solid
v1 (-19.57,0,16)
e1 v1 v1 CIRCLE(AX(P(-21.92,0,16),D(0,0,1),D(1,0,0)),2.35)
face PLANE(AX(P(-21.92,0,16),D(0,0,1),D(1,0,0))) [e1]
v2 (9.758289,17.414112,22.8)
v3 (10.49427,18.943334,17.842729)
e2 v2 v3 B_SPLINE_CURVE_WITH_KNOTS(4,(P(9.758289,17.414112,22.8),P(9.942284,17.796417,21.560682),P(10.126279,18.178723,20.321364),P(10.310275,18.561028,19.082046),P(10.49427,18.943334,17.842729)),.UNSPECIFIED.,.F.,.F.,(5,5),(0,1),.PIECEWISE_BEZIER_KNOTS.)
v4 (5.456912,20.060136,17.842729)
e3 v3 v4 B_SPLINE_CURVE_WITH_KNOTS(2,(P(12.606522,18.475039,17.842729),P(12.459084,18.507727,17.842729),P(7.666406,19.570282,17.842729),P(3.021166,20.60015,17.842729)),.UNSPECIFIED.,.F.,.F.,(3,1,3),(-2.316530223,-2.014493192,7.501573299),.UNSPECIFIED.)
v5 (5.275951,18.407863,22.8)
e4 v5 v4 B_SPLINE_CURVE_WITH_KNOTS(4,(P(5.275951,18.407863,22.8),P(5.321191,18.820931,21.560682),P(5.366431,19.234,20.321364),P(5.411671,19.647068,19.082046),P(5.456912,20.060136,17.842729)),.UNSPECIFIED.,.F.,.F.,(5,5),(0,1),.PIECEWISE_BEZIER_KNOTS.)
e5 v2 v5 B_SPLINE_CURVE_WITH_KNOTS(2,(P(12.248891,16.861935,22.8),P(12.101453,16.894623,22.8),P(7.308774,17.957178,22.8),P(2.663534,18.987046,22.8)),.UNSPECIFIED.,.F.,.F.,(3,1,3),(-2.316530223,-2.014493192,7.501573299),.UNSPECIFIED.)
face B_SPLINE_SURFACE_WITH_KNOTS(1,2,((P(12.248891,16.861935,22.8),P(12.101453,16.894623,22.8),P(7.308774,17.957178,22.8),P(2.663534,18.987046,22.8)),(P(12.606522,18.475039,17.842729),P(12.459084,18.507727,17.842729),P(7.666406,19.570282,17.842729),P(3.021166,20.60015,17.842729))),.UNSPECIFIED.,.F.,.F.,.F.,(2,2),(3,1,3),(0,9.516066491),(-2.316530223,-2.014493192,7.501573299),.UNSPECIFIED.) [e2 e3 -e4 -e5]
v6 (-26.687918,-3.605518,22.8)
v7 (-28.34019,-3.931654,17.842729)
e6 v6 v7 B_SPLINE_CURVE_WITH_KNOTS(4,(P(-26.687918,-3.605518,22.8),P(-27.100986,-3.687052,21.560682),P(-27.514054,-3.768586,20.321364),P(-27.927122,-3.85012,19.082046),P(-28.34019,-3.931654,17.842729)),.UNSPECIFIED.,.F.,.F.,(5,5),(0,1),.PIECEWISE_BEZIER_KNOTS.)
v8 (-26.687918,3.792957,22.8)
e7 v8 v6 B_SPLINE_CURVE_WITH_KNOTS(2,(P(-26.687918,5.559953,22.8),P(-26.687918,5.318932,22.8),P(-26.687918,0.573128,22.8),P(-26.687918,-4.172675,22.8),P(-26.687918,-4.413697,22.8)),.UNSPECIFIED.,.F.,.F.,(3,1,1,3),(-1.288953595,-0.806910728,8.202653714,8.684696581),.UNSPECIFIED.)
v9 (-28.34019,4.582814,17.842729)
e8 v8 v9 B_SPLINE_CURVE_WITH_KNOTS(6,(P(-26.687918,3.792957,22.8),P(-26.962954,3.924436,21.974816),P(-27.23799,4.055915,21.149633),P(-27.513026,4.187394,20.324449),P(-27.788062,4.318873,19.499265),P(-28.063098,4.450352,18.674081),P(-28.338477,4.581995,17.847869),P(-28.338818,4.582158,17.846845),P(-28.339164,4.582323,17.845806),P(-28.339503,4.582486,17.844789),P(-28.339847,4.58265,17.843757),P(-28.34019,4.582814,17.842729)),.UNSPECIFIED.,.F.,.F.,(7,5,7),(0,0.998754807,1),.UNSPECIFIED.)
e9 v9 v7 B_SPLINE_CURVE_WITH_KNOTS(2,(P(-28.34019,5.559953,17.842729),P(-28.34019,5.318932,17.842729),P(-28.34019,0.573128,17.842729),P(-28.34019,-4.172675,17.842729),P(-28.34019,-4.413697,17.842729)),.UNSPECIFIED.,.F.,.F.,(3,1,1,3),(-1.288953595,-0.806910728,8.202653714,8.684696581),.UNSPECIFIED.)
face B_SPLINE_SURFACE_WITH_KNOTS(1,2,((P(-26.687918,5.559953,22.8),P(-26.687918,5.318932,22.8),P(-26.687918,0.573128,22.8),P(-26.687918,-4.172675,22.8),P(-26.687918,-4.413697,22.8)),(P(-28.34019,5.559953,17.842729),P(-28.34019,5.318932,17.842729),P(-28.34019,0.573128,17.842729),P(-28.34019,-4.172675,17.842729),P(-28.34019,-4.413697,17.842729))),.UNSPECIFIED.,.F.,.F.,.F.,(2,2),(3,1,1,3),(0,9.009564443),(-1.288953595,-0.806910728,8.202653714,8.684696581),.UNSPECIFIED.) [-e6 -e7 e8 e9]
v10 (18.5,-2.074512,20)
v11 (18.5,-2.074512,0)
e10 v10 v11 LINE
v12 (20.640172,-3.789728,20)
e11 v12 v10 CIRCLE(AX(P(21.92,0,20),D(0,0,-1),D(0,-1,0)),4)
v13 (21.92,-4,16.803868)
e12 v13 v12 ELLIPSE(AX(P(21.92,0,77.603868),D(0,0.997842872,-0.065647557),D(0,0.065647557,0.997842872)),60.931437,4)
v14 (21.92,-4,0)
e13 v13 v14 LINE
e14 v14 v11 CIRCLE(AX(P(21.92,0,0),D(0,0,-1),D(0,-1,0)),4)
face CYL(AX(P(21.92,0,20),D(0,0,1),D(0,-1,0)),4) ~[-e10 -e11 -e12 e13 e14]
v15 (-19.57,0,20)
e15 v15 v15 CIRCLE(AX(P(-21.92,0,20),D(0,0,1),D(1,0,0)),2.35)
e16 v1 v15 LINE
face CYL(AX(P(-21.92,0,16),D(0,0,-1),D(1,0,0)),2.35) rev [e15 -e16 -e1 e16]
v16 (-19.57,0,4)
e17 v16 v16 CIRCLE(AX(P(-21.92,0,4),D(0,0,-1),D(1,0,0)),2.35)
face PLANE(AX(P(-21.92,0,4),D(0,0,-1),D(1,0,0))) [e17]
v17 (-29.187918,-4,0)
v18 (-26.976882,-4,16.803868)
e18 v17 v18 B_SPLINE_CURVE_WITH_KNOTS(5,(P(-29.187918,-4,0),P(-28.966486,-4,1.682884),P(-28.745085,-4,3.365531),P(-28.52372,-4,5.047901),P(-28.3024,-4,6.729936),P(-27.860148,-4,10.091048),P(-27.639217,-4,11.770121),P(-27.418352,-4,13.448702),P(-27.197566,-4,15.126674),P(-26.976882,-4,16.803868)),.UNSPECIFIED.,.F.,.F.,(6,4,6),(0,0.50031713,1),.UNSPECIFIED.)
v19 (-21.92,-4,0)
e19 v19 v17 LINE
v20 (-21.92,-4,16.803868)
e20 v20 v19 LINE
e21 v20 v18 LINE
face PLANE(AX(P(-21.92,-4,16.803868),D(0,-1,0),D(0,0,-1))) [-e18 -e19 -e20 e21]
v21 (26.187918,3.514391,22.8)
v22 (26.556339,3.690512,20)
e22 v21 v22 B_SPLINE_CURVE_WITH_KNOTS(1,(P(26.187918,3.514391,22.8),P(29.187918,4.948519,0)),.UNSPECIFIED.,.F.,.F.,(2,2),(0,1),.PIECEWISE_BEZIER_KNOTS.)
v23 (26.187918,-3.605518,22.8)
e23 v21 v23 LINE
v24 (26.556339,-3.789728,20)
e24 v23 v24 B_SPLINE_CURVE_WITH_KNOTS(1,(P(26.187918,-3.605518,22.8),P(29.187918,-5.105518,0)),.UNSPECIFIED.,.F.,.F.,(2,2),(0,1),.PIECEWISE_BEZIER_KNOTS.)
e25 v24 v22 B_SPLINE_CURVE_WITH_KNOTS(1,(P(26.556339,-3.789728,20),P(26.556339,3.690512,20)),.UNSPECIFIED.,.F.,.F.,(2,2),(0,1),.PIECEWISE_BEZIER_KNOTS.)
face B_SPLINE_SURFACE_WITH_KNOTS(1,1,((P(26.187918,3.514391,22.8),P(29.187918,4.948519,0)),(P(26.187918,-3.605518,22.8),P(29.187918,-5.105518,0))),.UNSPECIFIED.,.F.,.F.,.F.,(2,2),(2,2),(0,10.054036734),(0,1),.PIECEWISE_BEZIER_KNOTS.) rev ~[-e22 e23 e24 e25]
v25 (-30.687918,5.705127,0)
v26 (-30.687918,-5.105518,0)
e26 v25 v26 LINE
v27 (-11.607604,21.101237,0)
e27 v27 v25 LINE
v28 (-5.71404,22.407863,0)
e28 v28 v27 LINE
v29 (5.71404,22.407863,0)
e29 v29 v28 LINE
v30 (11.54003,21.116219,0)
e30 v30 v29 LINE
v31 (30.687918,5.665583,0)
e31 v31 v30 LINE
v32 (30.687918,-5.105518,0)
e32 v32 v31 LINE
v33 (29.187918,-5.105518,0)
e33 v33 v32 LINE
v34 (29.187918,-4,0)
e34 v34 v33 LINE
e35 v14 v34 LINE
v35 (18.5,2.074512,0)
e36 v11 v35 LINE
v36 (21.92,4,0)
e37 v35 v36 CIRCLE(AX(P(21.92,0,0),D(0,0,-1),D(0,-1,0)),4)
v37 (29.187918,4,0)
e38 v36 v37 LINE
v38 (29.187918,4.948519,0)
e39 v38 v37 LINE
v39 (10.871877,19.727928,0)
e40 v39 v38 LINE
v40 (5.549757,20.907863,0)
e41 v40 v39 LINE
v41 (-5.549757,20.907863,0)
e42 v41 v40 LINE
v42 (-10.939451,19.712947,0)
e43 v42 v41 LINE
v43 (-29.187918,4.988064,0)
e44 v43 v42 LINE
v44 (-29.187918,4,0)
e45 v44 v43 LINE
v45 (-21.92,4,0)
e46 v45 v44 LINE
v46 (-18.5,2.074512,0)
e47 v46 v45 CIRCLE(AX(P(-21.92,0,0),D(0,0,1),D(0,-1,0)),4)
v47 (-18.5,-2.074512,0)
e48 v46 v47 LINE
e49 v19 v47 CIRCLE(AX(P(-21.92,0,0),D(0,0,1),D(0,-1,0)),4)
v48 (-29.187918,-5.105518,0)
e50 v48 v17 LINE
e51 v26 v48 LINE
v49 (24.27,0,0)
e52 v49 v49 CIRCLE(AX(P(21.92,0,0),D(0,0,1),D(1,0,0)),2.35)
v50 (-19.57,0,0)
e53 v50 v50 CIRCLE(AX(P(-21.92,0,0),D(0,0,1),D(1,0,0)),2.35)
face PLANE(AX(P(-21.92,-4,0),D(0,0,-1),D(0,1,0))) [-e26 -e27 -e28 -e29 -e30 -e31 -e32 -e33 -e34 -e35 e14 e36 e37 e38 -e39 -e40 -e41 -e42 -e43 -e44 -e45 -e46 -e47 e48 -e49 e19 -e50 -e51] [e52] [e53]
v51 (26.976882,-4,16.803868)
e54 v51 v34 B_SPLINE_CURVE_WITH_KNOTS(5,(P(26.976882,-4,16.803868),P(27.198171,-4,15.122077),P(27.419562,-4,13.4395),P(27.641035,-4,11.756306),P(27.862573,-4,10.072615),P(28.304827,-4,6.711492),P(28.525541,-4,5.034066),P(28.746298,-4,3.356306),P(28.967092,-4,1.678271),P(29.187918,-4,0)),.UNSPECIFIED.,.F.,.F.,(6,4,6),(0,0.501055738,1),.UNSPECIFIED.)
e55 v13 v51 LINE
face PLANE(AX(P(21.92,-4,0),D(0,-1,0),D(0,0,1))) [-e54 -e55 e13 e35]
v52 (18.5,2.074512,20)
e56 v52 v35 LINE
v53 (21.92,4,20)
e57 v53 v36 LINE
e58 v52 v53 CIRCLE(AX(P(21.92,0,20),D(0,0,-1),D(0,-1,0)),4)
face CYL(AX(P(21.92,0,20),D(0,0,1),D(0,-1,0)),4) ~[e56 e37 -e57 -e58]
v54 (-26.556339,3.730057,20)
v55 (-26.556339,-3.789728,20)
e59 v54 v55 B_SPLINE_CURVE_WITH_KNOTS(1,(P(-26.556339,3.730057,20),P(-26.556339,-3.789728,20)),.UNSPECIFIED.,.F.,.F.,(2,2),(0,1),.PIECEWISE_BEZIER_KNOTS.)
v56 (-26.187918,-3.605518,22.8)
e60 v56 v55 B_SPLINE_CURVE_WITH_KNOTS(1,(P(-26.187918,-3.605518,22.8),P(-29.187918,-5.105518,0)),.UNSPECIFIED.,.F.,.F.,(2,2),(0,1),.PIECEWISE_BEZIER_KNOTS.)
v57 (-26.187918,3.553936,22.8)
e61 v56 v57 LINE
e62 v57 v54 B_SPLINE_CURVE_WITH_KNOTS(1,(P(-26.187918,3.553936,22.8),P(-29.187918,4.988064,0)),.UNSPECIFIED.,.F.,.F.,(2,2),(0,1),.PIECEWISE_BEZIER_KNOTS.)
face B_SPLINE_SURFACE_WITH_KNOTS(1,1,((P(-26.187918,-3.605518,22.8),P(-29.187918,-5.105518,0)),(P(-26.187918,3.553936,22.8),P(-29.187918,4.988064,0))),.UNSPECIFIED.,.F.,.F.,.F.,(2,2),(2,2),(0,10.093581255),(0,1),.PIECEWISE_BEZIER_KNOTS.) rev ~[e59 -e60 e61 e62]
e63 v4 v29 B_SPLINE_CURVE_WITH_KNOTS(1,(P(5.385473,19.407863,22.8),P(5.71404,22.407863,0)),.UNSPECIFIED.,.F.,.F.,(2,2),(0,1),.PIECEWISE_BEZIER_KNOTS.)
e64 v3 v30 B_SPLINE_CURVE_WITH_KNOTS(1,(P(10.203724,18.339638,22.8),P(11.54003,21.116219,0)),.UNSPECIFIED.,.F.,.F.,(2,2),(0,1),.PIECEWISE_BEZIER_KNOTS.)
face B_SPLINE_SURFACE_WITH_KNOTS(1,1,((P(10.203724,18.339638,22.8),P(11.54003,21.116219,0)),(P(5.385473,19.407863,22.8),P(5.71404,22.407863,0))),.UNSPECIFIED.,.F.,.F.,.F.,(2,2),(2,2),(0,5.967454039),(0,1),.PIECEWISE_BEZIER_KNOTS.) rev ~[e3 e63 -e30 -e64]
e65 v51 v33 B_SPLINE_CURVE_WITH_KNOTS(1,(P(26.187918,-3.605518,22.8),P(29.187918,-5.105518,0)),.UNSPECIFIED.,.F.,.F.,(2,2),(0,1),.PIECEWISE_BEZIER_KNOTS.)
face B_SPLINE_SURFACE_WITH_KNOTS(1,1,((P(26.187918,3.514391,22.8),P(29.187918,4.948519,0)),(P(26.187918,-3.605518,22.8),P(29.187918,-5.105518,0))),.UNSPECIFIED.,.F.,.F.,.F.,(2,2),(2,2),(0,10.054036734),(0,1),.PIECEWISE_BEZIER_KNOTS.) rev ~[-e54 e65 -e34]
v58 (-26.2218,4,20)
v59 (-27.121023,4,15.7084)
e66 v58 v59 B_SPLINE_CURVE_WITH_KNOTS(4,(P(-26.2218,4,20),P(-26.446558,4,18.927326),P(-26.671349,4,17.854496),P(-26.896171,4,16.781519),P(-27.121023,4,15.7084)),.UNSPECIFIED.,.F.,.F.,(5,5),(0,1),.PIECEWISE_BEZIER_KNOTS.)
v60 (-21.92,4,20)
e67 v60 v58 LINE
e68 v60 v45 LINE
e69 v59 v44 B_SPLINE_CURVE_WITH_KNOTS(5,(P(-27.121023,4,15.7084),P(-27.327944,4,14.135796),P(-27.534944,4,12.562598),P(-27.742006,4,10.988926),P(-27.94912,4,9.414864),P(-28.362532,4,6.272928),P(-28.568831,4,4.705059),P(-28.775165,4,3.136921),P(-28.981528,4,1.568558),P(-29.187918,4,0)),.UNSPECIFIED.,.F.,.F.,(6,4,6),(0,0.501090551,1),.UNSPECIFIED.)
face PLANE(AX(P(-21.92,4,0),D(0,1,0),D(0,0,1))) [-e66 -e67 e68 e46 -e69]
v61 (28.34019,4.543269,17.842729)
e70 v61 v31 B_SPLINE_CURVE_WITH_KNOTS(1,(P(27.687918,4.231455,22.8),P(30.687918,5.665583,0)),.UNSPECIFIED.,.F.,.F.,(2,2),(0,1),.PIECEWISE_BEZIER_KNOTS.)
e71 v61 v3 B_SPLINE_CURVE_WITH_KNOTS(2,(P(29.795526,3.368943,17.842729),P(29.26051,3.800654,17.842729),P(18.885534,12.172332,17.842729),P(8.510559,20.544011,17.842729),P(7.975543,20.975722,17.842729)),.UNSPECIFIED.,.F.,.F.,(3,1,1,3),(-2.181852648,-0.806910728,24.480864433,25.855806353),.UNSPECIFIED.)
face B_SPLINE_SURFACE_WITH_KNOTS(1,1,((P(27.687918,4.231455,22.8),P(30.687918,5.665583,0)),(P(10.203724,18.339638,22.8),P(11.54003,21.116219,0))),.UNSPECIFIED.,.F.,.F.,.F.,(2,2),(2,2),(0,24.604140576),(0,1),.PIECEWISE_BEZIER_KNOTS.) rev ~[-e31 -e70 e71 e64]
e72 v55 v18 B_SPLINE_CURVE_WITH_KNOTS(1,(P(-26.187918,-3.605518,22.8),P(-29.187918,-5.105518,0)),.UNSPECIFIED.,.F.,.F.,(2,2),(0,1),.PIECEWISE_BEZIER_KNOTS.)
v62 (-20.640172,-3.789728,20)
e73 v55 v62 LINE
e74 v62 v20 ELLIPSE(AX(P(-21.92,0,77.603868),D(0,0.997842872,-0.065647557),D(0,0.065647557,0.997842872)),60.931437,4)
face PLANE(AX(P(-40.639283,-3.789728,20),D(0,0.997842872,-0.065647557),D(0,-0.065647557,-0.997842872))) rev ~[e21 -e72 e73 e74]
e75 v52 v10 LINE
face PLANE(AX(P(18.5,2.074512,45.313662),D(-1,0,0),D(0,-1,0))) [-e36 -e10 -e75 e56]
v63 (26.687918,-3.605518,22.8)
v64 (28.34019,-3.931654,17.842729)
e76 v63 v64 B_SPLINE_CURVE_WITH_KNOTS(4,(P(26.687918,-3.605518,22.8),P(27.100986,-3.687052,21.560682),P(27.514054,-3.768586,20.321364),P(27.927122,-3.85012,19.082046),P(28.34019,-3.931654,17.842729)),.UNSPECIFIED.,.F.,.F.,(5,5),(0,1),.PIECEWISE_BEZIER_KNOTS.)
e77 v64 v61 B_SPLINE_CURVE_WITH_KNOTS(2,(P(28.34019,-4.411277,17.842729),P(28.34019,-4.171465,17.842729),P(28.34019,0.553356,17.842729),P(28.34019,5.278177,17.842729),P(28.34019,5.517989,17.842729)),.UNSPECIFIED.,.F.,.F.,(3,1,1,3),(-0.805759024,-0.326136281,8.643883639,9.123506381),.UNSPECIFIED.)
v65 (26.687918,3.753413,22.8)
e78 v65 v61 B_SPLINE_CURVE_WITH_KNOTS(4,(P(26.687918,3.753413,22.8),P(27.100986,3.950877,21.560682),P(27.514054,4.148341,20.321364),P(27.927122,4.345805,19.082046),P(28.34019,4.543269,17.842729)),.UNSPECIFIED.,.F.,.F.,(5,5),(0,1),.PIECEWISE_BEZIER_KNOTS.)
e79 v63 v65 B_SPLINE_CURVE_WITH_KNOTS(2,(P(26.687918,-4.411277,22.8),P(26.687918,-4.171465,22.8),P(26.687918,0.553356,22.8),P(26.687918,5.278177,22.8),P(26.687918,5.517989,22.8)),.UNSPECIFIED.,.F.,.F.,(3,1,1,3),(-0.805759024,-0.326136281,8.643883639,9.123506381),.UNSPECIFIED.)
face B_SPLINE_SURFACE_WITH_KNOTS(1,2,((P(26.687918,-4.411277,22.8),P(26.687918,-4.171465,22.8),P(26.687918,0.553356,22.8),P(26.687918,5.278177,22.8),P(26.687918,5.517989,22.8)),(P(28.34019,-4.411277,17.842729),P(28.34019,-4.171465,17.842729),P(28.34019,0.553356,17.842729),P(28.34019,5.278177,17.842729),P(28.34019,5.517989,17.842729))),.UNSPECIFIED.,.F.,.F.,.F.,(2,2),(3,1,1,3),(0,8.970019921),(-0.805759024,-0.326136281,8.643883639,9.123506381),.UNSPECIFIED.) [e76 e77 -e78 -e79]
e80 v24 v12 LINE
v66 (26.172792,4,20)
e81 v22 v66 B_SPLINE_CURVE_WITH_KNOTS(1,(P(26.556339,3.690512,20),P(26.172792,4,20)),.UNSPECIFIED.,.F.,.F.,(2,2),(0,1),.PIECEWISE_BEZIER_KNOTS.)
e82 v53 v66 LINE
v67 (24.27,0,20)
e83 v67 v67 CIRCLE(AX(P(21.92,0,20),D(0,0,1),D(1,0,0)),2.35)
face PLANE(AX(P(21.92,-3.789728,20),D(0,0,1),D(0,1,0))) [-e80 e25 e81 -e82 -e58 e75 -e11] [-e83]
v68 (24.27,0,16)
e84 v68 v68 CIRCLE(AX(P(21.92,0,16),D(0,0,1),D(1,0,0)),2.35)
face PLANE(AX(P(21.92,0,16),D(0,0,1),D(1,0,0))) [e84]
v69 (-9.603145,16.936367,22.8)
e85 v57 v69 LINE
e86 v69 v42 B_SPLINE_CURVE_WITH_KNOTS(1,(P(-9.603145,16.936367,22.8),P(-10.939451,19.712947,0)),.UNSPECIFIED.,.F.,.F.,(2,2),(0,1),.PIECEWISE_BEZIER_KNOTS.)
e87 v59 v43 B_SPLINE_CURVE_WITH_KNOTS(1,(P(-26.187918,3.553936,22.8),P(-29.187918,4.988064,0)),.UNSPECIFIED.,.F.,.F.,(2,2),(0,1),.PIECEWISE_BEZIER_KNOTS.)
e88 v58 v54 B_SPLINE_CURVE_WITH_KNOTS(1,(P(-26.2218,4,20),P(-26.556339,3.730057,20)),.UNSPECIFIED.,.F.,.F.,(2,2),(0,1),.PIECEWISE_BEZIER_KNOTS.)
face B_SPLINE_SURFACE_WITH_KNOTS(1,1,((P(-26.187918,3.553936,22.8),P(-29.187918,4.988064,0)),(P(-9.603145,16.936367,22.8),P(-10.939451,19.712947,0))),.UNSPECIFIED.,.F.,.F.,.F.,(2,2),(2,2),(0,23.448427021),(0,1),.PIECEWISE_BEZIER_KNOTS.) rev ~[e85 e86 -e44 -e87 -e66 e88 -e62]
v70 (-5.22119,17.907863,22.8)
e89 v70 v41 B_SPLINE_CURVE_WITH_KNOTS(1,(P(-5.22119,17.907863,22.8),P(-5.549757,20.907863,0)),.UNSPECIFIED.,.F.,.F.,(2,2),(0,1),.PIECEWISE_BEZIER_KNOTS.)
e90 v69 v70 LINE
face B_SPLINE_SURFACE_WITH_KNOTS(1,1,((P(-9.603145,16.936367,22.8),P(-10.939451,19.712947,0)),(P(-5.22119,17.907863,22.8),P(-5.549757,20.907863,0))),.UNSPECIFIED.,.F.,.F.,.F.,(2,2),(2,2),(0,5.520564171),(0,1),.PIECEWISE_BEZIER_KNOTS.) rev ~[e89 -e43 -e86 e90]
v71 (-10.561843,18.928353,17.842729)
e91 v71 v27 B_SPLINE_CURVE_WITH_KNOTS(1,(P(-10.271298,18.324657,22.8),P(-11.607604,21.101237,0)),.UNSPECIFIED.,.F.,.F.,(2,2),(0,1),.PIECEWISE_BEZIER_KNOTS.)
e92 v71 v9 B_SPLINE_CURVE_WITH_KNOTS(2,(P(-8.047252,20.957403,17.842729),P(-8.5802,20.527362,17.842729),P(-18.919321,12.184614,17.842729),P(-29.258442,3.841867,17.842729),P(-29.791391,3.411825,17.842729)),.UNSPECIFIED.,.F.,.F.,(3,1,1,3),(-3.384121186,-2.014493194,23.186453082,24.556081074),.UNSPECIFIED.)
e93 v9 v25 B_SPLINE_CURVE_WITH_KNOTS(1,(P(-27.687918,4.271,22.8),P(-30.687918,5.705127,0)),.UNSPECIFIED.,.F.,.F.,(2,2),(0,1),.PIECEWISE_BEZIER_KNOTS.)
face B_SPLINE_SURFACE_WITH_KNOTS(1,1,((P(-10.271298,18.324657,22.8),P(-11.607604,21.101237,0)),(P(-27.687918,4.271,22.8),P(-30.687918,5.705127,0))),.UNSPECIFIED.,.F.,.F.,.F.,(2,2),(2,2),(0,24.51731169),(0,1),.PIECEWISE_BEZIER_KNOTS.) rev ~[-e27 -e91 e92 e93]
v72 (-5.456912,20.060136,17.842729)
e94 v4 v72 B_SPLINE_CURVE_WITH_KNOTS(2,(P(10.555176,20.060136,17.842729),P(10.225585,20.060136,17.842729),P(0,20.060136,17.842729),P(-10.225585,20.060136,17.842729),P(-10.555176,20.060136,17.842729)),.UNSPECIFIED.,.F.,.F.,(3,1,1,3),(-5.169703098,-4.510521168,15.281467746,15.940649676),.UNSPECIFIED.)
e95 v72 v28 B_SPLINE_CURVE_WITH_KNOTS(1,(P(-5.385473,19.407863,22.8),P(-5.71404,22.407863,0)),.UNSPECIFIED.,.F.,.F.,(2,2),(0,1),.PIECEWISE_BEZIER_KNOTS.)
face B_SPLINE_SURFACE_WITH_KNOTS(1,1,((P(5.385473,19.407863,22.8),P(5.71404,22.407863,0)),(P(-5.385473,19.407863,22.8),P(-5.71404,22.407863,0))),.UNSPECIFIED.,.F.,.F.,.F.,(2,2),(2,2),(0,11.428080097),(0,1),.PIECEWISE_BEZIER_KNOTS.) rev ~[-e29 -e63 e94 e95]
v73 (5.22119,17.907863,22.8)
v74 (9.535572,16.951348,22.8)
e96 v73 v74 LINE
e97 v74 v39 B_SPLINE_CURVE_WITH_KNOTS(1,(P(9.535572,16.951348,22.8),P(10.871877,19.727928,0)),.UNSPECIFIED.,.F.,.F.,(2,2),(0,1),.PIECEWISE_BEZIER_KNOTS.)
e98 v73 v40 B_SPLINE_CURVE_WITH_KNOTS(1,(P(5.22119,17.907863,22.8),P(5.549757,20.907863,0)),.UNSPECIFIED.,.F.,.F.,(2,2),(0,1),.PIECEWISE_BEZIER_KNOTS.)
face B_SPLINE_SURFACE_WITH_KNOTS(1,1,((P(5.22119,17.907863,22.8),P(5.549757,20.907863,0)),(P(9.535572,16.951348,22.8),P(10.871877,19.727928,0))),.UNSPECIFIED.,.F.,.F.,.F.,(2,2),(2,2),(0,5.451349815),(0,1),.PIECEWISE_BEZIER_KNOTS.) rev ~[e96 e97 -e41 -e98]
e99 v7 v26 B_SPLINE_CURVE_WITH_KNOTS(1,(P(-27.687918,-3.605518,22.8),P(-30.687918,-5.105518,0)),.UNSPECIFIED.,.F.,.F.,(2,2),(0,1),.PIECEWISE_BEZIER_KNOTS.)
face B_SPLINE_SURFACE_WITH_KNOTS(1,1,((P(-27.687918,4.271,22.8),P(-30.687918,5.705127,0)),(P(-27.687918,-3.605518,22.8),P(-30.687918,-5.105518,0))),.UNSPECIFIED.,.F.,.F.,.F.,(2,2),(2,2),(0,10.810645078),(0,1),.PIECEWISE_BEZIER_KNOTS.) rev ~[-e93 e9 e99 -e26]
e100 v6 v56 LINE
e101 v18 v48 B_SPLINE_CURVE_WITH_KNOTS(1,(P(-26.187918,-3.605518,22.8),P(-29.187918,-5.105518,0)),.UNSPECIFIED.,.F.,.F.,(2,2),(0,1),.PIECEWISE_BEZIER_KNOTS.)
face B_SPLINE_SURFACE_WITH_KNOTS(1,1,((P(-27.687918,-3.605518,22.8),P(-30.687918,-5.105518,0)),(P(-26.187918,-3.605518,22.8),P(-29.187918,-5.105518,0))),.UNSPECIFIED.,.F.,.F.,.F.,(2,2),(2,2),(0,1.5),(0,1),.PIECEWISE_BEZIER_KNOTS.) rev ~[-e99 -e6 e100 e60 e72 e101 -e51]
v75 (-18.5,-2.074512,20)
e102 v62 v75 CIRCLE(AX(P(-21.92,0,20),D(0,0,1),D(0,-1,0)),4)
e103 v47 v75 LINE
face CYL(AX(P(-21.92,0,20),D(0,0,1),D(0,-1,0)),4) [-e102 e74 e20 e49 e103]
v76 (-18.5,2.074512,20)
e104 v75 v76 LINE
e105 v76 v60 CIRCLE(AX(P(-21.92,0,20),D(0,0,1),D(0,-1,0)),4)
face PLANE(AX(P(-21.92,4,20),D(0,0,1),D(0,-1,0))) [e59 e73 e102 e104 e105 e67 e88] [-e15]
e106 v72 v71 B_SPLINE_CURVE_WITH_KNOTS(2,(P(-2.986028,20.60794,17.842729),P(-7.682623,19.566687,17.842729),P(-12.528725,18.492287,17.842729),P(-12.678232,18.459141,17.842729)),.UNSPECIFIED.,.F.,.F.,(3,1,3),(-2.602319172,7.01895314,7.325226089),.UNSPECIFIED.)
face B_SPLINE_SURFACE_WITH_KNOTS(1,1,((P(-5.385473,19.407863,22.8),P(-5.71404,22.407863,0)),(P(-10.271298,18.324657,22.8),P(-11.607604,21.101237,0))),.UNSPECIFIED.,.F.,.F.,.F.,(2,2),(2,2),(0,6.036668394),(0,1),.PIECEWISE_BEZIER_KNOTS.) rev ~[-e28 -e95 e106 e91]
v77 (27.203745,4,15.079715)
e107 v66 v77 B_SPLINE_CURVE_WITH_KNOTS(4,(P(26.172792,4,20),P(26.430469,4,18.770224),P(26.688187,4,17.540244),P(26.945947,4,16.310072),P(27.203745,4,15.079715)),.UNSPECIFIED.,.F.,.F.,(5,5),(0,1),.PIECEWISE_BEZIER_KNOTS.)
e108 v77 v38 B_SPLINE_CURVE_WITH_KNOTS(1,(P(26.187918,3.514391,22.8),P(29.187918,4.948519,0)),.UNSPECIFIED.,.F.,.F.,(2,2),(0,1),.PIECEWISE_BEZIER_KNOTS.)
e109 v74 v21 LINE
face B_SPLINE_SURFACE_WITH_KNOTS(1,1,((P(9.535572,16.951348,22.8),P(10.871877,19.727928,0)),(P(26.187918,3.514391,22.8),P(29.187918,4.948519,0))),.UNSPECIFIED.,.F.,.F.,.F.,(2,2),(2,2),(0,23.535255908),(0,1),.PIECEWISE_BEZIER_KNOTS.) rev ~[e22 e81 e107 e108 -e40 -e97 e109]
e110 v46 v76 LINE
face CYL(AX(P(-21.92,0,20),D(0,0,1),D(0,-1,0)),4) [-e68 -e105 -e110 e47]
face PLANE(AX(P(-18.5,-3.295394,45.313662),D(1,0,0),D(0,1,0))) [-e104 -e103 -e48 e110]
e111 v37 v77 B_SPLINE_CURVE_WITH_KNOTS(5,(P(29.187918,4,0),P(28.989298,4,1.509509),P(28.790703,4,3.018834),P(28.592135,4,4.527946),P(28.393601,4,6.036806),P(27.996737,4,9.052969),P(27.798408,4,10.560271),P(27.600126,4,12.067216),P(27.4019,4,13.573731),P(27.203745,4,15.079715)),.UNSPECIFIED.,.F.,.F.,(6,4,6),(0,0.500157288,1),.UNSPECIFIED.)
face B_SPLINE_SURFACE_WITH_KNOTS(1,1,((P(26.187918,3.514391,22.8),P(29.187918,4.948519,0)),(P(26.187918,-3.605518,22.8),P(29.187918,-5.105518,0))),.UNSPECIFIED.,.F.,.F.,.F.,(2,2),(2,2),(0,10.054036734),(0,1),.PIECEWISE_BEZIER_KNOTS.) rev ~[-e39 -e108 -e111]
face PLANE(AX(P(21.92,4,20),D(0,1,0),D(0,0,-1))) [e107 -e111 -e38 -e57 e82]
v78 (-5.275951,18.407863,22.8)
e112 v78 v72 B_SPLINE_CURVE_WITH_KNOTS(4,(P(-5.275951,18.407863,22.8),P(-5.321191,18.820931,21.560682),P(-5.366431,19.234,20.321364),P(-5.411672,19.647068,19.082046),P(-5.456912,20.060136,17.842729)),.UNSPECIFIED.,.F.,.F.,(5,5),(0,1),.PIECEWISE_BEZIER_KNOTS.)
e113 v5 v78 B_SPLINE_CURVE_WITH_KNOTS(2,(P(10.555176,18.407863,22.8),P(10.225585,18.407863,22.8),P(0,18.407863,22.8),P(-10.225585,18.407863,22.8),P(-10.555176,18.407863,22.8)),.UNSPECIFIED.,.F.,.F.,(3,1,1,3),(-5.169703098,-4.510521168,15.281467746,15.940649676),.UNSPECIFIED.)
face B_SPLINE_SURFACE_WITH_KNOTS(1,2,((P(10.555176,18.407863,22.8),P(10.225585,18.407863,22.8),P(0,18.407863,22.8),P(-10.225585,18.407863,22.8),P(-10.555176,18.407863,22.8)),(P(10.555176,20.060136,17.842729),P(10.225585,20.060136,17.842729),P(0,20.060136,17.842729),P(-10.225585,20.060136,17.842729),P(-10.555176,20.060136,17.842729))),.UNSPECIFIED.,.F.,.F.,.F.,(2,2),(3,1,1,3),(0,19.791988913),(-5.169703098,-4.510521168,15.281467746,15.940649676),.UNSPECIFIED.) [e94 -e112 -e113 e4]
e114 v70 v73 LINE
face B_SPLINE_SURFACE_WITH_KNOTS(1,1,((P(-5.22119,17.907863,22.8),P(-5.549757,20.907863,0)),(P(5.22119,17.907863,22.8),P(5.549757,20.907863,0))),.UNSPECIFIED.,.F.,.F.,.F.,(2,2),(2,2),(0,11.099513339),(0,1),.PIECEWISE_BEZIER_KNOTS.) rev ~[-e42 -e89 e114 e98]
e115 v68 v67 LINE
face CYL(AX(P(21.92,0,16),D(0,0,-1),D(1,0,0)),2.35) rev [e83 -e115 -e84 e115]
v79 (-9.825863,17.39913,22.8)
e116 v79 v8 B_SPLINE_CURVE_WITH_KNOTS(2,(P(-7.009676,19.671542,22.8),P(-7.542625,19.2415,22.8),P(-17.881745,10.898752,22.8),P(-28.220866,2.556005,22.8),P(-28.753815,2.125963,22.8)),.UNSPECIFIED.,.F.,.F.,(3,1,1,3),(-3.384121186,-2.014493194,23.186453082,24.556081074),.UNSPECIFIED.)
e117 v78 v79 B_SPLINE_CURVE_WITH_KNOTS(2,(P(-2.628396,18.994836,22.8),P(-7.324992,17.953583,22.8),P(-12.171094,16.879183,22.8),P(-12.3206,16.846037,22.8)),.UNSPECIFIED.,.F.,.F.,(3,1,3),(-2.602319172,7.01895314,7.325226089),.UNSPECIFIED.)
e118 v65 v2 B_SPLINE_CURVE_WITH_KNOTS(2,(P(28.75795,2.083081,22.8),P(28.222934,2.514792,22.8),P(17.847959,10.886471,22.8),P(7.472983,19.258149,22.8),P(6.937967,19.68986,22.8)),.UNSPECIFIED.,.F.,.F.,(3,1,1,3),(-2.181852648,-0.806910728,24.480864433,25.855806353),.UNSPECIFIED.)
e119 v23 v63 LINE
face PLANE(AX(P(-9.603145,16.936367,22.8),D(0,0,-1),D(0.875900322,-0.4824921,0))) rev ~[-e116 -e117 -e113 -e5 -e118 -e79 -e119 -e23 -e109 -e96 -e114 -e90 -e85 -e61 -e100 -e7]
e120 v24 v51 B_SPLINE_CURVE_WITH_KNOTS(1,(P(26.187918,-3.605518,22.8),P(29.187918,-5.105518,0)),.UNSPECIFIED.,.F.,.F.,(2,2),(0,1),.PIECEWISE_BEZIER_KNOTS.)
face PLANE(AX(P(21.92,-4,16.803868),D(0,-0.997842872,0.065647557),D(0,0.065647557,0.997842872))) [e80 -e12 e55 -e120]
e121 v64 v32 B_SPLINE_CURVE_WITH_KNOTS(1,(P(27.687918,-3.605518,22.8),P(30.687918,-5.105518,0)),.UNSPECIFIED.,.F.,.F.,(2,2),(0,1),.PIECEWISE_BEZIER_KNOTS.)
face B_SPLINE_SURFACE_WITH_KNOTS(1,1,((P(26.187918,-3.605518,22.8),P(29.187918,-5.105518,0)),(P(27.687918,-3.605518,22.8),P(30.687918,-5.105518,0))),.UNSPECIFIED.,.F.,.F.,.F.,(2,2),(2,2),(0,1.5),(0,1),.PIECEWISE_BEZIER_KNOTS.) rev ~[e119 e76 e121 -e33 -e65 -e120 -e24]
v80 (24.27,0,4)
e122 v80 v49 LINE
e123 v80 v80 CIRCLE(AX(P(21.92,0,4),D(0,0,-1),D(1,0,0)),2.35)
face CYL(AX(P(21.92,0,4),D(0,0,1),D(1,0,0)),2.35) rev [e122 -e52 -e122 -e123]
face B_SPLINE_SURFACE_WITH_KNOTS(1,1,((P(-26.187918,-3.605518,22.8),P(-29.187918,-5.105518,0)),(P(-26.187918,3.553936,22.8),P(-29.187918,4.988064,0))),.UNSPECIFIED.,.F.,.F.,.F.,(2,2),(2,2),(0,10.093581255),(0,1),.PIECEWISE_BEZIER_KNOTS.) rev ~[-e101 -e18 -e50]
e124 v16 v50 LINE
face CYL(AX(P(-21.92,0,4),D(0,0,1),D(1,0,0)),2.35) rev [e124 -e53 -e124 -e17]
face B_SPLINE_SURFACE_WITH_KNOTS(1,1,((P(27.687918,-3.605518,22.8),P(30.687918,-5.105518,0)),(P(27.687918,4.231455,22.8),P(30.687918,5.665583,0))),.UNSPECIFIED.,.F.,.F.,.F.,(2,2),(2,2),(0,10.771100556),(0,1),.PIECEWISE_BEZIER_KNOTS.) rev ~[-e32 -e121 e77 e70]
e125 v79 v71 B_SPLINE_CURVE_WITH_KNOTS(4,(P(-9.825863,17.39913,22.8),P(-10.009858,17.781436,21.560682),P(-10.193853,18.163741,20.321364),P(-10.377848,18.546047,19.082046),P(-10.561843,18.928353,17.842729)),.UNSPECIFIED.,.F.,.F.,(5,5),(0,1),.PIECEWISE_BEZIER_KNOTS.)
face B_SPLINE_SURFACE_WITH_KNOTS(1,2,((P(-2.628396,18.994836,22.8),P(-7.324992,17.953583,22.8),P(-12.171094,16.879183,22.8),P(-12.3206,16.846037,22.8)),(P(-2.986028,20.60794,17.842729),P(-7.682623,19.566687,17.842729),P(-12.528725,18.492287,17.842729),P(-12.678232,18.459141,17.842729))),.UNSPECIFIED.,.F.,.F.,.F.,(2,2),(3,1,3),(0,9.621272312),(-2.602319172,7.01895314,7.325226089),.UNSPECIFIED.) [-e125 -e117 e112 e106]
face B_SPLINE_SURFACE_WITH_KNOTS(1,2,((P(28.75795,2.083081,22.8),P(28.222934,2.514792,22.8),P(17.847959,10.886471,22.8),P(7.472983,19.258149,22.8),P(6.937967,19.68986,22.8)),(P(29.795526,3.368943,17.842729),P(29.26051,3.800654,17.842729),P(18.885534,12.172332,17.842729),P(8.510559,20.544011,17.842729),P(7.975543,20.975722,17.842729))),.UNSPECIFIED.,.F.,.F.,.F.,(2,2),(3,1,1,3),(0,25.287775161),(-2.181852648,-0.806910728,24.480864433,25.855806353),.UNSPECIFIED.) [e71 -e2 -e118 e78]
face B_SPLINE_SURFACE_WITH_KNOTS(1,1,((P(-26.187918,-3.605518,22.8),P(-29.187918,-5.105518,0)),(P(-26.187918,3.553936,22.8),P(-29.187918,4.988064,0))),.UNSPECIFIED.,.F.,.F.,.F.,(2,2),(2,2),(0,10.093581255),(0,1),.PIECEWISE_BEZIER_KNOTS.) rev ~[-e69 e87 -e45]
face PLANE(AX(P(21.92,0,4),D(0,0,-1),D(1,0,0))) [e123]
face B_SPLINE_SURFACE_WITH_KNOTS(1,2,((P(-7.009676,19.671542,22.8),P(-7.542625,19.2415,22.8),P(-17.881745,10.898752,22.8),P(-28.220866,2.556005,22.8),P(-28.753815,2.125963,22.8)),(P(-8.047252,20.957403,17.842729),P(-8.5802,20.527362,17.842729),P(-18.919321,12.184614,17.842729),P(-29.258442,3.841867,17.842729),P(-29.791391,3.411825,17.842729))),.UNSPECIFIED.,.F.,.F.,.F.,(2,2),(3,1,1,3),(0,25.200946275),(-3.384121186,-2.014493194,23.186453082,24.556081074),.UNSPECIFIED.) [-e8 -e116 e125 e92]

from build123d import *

# Parameters (mm, degrees)
CHANFREIN1_SIZE              = 1
CHANFREIN1_SIZE2             = 5
BOSS_EXTRU_5_DEPTH           = 20
BOSS_EXTRU_5_2_DEPTH         = 20
ENL_V_MAT_EXTRU_2_DEPTH      = 62.559283201
ENL_V_MAT_EXTRU_2_DEPTH_BACK = 62.559283201
BOSS_EXTRU_6_REACH           = 63.559
BOSS_EXTRU_7_REACH           = 63.559
ENL_V_MAT_EXTRU_3_DEPTH      = 45.313661961
ENL_V_MAT_EXTRU_3_DEPTH_BACK = 45.313661961
ENL_V_MAT_EXTRU_4_DEPTH      = 45.313661961
ENL_V_MAT_EXTRU_4_DEPTH_BACK = 4
ESQUISSE16_R                 = 2.35
ENL_V_START                  = -4
ESQUISSE17_R                 = 2.35
ENL_V_MAT_EXTRU_5_DEPTH      = 4


with BuildPart() as part:
    # Esquisse2 → Lissage2 section 0
    with BuildSketch(Plane(origin=(0, 0, 22.8), x_dir=(-1, 0, 0), z_dir=(0, 0, -1))):
        with BuildLine():
            Line((9.60314516, 16.936366798), (5.221189916, 17.907863235))
            Line((5.221189916, 17.907863235), (-5.221189909, 17.907863235))
            Line((-5.221189909, 17.907863235), (-9.535571585, 16.951348119))
            Line((-9.535571585, 16.951348119), (-26.187917597, 3.514391472))
            Line((-26.187917597, 3.514391472), (-26.187917597, -3.605517616))
            Line((-26.187917597, -3.605517616), (-27.687917597, -3.605517616))
            Line((-27.687917597, -3.605517616), (-27.687917597, 4.231455295))
            Line((-27.687917597, 4.231455295), (-10.203724477, 18.339638298))
            Line((-10.203724477, 18.339638298), (-5.385473287, 19.407863235))
            Line((-5.385473287, 19.407863235), (5.385473294, 19.407863235))
            Line((5.385473294, 19.407863235), (10.271298051, 18.324656976))
            Line((10.271298051, 18.324656976), (27.687917597, 4.270999817))
            Line((27.687917597, 4.270999817), (27.687917597, -3.605517616))
            Line((27.687917597, -3.605517616), (26.187917597, -3.605517616))
            Line((26.187917597, -3.605517616), (26.187917597, 3.553935994))
            Line((26.187917597, 3.553935994), (9.60314516, 16.936366798))
        make_face()
    # Esquisse7 → Lissage2 section 1
    with BuildSketch(Plane.XY):
        with BuildLine():
            Line((30.687917597, -5.105517616), (30.687917597, 5.66558294))
            Line((30.687917597, 5.66558294), (11.54003026, 21.116218655))
            Line((11.54003026, 21.116218655), (5.714040045, 22.407863235))
            Line((5.714040045, 22.407863235), (-5.714040052, 22.407863235))
            Line((-5.714040052, 22.407863235), (-11.607603834, 21.101237334))
            Line((-11.607603834, 21.101237334), (-30.687917597, 5.705127462))
            Line((-30.687917597, 5.705127462), (-30.687917597, -5.105517616))
            Line((-30.687917597, -5.105517616), (-29.187917597, -5.105517616))
            Line((-29.187917597, -5.105517616), (-29.187917597, 4.988063639))
            Line((-29.187917597, 4.988063639), (-10.939450943, 19.712947155))
            Line((-10.939450943, 19.712947155), (-5.549756673, 20.907863235))
            Line((-5.549756673, 20.907863235), (5.549756666, 20.907863235))
            Line((5.549756666, 20.907863235), (10.871877368, 19.727928476))
            Line((10.871877368, 19.727928476), (29.187917597, 4.948519118))
            Line((29.187917597, 4.948519118), (29.187917597, -5.105517616))
            Line((29.187917597, -5.105517616), (30.687917597, -5.105517616))
        make_face()
    loft()

    # Chanfrein1
    chanfrein1_edges = [part.edges().sort_by_distance(p)[0] for p in [
        (-27.687917597, 0.3327411, 22.8),
        (-18.979607824, 11.297828397, 22.8),
        (-7.828385673, 18.866260106, 22.8),
        (-4e-09, 19.407863235, 22.8),
        (7.794598882, 18.873750766, 22.8),
        (18.945821037, 11.285546796, 22.8),
        (27.687917597, 0.312968839, 22.8),
    ]]
    chanfrein1_side = [part.faces().sort_by_distance(p)[0] for p in [
        (-7.541966061, 18.007574003, 22.8),
    ]]
    chamfer(chanfrein1_edges, length=CHANFREIN1_SIZE, length2=CHANFREIN1_SIZE2, reference=chanfrein1_side[0])

    # Esquisse12 → Boss.-Extru.6 (add, up to next)
    with BuildSketch(Plane(origin=(21.92, 0, 0), x_dir=(0, 0, -1), z_dir=(1, 0, 0)), mode=Mode.PRIVATE) as boss_extru_6_sk1:
        Polygon((-16.803867762, -4), (-20, -3.789728142), (-20, 4), (0, 4), (0, -4), align=None)
    boss_extru_6_tool1 = extrude(boss_extru_6_sk1.sketch, amount=BOSS_EXTRU_6_REACH, mode=Mode.PRIVATE) - part.part


with BuildPart() as body_2:
    # Esquisse8 → Boss.-Extru.5 (new body)
    with BuildSketch(Plane(origin=(0, 0, 20), x_dir=(-1, 0, 0), z_dir=(0, 0, -1))):
        with BuildLine():
            Line((-21.92, 4), (-21.92, -4))
            ThreePointArc((-21.92, -4), (-17.92, 0), (-21.92, 4))
        make_face()
    extrude(amount=BOSS_EXTRU_5_DEPTH)


with BuildPart() as body_3:
    # Esquisse8 → Boss.-Extru.5 2 (new body)
    with BuildSketch(Plane(origin=(0, 0, 20), x_dir=(-1, 0, 0), z_dir=(0, 0, -1))):
        with BuildLine():
            Line((21.92, 4), (21.92, -4))
            ThreePointArc((21.92, -4), (17.92, 0), (21.92, 4))
        make_face()
    extrude(amount=BOSS_EXTRU_5_2_DEPTH)


with BuildPart() as enl_v_mat_extru_2_tool:
    # Esquisse11 → Enlèv. mat.-Extru.2 (new, two sides: drawn at the far end of the back side and taken through both)
    with BuildSketch(Plane(origin=(21.92, 0, 0), x_dir=(0, 0, -1), z_dir=(1, 0, 0)).offset(-ENL_V_MAT_EXTRU_2_DEPTH_BACK)):
        Polygon((-20, -3.789728142), (-16.803867762, -4), (-20, -4), align=None)
    extrude(amount=ENL_V_MAT_EXTRU_2_DEPTH + ENL_V_MAT_EXTRU_2_DEPTH_BACK)


with BuildPart() as body_2_1:
    add(body_2.part)

    # Enlèv. mat.-Extru.2: cut by enl_v_mat_extru_2_tool
    add(enl_v_mat_extru_2_tool.part, mode=Mode.SUBTRACT)


with BuildPart() as body_3_1:
    add(body_3.part)

    # Enlèv. mat.-Extru.2: cut by enl_v_mat_extru_2_tool
    add(enl_v_mat_extru_2_tool.part, mode=Mode.SUBTRACT)


with BuildPart() as part_1:
    add(part.part)

    add(body_2_1.part)  # Boss.-Extru.6 merges body 2
    add(boss_extru_6_tool1.solids().sort_by_distance((21.92, 0.008271, 9.981196))[0])

    # Esquisse14 → Boss.-Extru.7 (add, up to next)
    with BuildSketch(Plane.ZY.offset(21.92), mode=Mode.PRIVATE) as boss_extru_7_sk1:
        Polygon((0, 4), (20, 4), (20, -3.789728142), (16.803867762, -4), (0, -4), align=None)
    boss_extru_7_tool1 = extrude(boss_extru_7_sk1.sketch, amount=BOSS_EXTRU_7_REACH, mode=Mode.PRIVATE) - part_1.part

    add(body_3_1.part)  # Boss.-Extru.7 merges body 3
    add(boss_extru_7_tool1.solids().sort_by_distance((-21.92, 0.008271, 9.981196))[0])

    # Esquisse15 → Enlèv. mat.-Extru.3 (cut, two sides: drawn at the far end of the back side and taken through both)
    with BuildSketch(Plane(origin=(0, 0, 0), x_dir=(-1, 0, 0), z_dir=(0, 0, -1)).offset(-ENL_V_MAT_EXTRU_3_DEPTH_BACK)):
        with BuildLine():
            ThreePointArc((-18.5, -2.074511991), (-17.92, 0), (-18.5, 2.074511991))
            Line((-18.5, 2.074511991), (-18.5, -2.074511991))
        make_face()
        with BuildLine():
            Line((18.5, -2.074511991), (18.5, 2.074511991))
            ThreePointArc((18.5, 2.074511991), (17.92, 0), (18.5, -2.074511991))
        make_face()
        with BuildLine():
            Line((18.5, 2.074511991), (18.5, 3.295393564))
            ThreePointArc((18.5, 3.295393564), (17.170682287, 0), (18.5, -3.295393564))
            Line((18.5, -3.295393564), (18.5, -2.074511991))
            ThreePointArc((18.5, -2.074511991), (17.92, 0), (18.5, 2.074511991))
        make_face()
    extrude(amount=ENL_V_MAT_EXTRU_3_DEPTH + ENL_V_MAT_EXTRU_3_DEPTH_BACK, mode=Mode.SUBTRACT)

    # Esquisse16 → Enlèv. mat.-Extru.4 (cut, two sides: drawn at the far end of the back side and taken through both)
    with BuildSketch(Plane(origin=(0, 0, 0), x_dir=(-1, 0, 0), z_dir=(0, 0, -1)).offset(-ENL_V_MAT_EXTRU_4_DEPTH_BACK)):
        with Locations(Location((-21.92, 0, 0), (0, 0, 180))):
            Circle(ESQUISSE16_R)
        with Locations(Location((21.92, 0, 0), (0, 0, 180))):
            Circle(ESQUISSE16_R)
    extrude(amount=ENL_V_MAT_EXTRU_4_DEPTH + ENL_V_MAT_EXTRU_4_DEPTH_BACK, mode=Mode.SUBTRACT)

    # Esquisse17 → Enlèv. mat.-Extru.5 (cut)
    with BuildSketch(Plane.XY.offset(20).offset(ENL_V_START)):
        with Locations((-21.92, 0)):
            Circle(ESQUISSE17_R)
        with Locations((21.92, 0)):
            Circle(ESQUISSE17_R)
    extrude(amount=ENL_V_MAT_EXTRU_5_DEPTH, mode=Mode.SUBTRACT)


solid = part_1.part
